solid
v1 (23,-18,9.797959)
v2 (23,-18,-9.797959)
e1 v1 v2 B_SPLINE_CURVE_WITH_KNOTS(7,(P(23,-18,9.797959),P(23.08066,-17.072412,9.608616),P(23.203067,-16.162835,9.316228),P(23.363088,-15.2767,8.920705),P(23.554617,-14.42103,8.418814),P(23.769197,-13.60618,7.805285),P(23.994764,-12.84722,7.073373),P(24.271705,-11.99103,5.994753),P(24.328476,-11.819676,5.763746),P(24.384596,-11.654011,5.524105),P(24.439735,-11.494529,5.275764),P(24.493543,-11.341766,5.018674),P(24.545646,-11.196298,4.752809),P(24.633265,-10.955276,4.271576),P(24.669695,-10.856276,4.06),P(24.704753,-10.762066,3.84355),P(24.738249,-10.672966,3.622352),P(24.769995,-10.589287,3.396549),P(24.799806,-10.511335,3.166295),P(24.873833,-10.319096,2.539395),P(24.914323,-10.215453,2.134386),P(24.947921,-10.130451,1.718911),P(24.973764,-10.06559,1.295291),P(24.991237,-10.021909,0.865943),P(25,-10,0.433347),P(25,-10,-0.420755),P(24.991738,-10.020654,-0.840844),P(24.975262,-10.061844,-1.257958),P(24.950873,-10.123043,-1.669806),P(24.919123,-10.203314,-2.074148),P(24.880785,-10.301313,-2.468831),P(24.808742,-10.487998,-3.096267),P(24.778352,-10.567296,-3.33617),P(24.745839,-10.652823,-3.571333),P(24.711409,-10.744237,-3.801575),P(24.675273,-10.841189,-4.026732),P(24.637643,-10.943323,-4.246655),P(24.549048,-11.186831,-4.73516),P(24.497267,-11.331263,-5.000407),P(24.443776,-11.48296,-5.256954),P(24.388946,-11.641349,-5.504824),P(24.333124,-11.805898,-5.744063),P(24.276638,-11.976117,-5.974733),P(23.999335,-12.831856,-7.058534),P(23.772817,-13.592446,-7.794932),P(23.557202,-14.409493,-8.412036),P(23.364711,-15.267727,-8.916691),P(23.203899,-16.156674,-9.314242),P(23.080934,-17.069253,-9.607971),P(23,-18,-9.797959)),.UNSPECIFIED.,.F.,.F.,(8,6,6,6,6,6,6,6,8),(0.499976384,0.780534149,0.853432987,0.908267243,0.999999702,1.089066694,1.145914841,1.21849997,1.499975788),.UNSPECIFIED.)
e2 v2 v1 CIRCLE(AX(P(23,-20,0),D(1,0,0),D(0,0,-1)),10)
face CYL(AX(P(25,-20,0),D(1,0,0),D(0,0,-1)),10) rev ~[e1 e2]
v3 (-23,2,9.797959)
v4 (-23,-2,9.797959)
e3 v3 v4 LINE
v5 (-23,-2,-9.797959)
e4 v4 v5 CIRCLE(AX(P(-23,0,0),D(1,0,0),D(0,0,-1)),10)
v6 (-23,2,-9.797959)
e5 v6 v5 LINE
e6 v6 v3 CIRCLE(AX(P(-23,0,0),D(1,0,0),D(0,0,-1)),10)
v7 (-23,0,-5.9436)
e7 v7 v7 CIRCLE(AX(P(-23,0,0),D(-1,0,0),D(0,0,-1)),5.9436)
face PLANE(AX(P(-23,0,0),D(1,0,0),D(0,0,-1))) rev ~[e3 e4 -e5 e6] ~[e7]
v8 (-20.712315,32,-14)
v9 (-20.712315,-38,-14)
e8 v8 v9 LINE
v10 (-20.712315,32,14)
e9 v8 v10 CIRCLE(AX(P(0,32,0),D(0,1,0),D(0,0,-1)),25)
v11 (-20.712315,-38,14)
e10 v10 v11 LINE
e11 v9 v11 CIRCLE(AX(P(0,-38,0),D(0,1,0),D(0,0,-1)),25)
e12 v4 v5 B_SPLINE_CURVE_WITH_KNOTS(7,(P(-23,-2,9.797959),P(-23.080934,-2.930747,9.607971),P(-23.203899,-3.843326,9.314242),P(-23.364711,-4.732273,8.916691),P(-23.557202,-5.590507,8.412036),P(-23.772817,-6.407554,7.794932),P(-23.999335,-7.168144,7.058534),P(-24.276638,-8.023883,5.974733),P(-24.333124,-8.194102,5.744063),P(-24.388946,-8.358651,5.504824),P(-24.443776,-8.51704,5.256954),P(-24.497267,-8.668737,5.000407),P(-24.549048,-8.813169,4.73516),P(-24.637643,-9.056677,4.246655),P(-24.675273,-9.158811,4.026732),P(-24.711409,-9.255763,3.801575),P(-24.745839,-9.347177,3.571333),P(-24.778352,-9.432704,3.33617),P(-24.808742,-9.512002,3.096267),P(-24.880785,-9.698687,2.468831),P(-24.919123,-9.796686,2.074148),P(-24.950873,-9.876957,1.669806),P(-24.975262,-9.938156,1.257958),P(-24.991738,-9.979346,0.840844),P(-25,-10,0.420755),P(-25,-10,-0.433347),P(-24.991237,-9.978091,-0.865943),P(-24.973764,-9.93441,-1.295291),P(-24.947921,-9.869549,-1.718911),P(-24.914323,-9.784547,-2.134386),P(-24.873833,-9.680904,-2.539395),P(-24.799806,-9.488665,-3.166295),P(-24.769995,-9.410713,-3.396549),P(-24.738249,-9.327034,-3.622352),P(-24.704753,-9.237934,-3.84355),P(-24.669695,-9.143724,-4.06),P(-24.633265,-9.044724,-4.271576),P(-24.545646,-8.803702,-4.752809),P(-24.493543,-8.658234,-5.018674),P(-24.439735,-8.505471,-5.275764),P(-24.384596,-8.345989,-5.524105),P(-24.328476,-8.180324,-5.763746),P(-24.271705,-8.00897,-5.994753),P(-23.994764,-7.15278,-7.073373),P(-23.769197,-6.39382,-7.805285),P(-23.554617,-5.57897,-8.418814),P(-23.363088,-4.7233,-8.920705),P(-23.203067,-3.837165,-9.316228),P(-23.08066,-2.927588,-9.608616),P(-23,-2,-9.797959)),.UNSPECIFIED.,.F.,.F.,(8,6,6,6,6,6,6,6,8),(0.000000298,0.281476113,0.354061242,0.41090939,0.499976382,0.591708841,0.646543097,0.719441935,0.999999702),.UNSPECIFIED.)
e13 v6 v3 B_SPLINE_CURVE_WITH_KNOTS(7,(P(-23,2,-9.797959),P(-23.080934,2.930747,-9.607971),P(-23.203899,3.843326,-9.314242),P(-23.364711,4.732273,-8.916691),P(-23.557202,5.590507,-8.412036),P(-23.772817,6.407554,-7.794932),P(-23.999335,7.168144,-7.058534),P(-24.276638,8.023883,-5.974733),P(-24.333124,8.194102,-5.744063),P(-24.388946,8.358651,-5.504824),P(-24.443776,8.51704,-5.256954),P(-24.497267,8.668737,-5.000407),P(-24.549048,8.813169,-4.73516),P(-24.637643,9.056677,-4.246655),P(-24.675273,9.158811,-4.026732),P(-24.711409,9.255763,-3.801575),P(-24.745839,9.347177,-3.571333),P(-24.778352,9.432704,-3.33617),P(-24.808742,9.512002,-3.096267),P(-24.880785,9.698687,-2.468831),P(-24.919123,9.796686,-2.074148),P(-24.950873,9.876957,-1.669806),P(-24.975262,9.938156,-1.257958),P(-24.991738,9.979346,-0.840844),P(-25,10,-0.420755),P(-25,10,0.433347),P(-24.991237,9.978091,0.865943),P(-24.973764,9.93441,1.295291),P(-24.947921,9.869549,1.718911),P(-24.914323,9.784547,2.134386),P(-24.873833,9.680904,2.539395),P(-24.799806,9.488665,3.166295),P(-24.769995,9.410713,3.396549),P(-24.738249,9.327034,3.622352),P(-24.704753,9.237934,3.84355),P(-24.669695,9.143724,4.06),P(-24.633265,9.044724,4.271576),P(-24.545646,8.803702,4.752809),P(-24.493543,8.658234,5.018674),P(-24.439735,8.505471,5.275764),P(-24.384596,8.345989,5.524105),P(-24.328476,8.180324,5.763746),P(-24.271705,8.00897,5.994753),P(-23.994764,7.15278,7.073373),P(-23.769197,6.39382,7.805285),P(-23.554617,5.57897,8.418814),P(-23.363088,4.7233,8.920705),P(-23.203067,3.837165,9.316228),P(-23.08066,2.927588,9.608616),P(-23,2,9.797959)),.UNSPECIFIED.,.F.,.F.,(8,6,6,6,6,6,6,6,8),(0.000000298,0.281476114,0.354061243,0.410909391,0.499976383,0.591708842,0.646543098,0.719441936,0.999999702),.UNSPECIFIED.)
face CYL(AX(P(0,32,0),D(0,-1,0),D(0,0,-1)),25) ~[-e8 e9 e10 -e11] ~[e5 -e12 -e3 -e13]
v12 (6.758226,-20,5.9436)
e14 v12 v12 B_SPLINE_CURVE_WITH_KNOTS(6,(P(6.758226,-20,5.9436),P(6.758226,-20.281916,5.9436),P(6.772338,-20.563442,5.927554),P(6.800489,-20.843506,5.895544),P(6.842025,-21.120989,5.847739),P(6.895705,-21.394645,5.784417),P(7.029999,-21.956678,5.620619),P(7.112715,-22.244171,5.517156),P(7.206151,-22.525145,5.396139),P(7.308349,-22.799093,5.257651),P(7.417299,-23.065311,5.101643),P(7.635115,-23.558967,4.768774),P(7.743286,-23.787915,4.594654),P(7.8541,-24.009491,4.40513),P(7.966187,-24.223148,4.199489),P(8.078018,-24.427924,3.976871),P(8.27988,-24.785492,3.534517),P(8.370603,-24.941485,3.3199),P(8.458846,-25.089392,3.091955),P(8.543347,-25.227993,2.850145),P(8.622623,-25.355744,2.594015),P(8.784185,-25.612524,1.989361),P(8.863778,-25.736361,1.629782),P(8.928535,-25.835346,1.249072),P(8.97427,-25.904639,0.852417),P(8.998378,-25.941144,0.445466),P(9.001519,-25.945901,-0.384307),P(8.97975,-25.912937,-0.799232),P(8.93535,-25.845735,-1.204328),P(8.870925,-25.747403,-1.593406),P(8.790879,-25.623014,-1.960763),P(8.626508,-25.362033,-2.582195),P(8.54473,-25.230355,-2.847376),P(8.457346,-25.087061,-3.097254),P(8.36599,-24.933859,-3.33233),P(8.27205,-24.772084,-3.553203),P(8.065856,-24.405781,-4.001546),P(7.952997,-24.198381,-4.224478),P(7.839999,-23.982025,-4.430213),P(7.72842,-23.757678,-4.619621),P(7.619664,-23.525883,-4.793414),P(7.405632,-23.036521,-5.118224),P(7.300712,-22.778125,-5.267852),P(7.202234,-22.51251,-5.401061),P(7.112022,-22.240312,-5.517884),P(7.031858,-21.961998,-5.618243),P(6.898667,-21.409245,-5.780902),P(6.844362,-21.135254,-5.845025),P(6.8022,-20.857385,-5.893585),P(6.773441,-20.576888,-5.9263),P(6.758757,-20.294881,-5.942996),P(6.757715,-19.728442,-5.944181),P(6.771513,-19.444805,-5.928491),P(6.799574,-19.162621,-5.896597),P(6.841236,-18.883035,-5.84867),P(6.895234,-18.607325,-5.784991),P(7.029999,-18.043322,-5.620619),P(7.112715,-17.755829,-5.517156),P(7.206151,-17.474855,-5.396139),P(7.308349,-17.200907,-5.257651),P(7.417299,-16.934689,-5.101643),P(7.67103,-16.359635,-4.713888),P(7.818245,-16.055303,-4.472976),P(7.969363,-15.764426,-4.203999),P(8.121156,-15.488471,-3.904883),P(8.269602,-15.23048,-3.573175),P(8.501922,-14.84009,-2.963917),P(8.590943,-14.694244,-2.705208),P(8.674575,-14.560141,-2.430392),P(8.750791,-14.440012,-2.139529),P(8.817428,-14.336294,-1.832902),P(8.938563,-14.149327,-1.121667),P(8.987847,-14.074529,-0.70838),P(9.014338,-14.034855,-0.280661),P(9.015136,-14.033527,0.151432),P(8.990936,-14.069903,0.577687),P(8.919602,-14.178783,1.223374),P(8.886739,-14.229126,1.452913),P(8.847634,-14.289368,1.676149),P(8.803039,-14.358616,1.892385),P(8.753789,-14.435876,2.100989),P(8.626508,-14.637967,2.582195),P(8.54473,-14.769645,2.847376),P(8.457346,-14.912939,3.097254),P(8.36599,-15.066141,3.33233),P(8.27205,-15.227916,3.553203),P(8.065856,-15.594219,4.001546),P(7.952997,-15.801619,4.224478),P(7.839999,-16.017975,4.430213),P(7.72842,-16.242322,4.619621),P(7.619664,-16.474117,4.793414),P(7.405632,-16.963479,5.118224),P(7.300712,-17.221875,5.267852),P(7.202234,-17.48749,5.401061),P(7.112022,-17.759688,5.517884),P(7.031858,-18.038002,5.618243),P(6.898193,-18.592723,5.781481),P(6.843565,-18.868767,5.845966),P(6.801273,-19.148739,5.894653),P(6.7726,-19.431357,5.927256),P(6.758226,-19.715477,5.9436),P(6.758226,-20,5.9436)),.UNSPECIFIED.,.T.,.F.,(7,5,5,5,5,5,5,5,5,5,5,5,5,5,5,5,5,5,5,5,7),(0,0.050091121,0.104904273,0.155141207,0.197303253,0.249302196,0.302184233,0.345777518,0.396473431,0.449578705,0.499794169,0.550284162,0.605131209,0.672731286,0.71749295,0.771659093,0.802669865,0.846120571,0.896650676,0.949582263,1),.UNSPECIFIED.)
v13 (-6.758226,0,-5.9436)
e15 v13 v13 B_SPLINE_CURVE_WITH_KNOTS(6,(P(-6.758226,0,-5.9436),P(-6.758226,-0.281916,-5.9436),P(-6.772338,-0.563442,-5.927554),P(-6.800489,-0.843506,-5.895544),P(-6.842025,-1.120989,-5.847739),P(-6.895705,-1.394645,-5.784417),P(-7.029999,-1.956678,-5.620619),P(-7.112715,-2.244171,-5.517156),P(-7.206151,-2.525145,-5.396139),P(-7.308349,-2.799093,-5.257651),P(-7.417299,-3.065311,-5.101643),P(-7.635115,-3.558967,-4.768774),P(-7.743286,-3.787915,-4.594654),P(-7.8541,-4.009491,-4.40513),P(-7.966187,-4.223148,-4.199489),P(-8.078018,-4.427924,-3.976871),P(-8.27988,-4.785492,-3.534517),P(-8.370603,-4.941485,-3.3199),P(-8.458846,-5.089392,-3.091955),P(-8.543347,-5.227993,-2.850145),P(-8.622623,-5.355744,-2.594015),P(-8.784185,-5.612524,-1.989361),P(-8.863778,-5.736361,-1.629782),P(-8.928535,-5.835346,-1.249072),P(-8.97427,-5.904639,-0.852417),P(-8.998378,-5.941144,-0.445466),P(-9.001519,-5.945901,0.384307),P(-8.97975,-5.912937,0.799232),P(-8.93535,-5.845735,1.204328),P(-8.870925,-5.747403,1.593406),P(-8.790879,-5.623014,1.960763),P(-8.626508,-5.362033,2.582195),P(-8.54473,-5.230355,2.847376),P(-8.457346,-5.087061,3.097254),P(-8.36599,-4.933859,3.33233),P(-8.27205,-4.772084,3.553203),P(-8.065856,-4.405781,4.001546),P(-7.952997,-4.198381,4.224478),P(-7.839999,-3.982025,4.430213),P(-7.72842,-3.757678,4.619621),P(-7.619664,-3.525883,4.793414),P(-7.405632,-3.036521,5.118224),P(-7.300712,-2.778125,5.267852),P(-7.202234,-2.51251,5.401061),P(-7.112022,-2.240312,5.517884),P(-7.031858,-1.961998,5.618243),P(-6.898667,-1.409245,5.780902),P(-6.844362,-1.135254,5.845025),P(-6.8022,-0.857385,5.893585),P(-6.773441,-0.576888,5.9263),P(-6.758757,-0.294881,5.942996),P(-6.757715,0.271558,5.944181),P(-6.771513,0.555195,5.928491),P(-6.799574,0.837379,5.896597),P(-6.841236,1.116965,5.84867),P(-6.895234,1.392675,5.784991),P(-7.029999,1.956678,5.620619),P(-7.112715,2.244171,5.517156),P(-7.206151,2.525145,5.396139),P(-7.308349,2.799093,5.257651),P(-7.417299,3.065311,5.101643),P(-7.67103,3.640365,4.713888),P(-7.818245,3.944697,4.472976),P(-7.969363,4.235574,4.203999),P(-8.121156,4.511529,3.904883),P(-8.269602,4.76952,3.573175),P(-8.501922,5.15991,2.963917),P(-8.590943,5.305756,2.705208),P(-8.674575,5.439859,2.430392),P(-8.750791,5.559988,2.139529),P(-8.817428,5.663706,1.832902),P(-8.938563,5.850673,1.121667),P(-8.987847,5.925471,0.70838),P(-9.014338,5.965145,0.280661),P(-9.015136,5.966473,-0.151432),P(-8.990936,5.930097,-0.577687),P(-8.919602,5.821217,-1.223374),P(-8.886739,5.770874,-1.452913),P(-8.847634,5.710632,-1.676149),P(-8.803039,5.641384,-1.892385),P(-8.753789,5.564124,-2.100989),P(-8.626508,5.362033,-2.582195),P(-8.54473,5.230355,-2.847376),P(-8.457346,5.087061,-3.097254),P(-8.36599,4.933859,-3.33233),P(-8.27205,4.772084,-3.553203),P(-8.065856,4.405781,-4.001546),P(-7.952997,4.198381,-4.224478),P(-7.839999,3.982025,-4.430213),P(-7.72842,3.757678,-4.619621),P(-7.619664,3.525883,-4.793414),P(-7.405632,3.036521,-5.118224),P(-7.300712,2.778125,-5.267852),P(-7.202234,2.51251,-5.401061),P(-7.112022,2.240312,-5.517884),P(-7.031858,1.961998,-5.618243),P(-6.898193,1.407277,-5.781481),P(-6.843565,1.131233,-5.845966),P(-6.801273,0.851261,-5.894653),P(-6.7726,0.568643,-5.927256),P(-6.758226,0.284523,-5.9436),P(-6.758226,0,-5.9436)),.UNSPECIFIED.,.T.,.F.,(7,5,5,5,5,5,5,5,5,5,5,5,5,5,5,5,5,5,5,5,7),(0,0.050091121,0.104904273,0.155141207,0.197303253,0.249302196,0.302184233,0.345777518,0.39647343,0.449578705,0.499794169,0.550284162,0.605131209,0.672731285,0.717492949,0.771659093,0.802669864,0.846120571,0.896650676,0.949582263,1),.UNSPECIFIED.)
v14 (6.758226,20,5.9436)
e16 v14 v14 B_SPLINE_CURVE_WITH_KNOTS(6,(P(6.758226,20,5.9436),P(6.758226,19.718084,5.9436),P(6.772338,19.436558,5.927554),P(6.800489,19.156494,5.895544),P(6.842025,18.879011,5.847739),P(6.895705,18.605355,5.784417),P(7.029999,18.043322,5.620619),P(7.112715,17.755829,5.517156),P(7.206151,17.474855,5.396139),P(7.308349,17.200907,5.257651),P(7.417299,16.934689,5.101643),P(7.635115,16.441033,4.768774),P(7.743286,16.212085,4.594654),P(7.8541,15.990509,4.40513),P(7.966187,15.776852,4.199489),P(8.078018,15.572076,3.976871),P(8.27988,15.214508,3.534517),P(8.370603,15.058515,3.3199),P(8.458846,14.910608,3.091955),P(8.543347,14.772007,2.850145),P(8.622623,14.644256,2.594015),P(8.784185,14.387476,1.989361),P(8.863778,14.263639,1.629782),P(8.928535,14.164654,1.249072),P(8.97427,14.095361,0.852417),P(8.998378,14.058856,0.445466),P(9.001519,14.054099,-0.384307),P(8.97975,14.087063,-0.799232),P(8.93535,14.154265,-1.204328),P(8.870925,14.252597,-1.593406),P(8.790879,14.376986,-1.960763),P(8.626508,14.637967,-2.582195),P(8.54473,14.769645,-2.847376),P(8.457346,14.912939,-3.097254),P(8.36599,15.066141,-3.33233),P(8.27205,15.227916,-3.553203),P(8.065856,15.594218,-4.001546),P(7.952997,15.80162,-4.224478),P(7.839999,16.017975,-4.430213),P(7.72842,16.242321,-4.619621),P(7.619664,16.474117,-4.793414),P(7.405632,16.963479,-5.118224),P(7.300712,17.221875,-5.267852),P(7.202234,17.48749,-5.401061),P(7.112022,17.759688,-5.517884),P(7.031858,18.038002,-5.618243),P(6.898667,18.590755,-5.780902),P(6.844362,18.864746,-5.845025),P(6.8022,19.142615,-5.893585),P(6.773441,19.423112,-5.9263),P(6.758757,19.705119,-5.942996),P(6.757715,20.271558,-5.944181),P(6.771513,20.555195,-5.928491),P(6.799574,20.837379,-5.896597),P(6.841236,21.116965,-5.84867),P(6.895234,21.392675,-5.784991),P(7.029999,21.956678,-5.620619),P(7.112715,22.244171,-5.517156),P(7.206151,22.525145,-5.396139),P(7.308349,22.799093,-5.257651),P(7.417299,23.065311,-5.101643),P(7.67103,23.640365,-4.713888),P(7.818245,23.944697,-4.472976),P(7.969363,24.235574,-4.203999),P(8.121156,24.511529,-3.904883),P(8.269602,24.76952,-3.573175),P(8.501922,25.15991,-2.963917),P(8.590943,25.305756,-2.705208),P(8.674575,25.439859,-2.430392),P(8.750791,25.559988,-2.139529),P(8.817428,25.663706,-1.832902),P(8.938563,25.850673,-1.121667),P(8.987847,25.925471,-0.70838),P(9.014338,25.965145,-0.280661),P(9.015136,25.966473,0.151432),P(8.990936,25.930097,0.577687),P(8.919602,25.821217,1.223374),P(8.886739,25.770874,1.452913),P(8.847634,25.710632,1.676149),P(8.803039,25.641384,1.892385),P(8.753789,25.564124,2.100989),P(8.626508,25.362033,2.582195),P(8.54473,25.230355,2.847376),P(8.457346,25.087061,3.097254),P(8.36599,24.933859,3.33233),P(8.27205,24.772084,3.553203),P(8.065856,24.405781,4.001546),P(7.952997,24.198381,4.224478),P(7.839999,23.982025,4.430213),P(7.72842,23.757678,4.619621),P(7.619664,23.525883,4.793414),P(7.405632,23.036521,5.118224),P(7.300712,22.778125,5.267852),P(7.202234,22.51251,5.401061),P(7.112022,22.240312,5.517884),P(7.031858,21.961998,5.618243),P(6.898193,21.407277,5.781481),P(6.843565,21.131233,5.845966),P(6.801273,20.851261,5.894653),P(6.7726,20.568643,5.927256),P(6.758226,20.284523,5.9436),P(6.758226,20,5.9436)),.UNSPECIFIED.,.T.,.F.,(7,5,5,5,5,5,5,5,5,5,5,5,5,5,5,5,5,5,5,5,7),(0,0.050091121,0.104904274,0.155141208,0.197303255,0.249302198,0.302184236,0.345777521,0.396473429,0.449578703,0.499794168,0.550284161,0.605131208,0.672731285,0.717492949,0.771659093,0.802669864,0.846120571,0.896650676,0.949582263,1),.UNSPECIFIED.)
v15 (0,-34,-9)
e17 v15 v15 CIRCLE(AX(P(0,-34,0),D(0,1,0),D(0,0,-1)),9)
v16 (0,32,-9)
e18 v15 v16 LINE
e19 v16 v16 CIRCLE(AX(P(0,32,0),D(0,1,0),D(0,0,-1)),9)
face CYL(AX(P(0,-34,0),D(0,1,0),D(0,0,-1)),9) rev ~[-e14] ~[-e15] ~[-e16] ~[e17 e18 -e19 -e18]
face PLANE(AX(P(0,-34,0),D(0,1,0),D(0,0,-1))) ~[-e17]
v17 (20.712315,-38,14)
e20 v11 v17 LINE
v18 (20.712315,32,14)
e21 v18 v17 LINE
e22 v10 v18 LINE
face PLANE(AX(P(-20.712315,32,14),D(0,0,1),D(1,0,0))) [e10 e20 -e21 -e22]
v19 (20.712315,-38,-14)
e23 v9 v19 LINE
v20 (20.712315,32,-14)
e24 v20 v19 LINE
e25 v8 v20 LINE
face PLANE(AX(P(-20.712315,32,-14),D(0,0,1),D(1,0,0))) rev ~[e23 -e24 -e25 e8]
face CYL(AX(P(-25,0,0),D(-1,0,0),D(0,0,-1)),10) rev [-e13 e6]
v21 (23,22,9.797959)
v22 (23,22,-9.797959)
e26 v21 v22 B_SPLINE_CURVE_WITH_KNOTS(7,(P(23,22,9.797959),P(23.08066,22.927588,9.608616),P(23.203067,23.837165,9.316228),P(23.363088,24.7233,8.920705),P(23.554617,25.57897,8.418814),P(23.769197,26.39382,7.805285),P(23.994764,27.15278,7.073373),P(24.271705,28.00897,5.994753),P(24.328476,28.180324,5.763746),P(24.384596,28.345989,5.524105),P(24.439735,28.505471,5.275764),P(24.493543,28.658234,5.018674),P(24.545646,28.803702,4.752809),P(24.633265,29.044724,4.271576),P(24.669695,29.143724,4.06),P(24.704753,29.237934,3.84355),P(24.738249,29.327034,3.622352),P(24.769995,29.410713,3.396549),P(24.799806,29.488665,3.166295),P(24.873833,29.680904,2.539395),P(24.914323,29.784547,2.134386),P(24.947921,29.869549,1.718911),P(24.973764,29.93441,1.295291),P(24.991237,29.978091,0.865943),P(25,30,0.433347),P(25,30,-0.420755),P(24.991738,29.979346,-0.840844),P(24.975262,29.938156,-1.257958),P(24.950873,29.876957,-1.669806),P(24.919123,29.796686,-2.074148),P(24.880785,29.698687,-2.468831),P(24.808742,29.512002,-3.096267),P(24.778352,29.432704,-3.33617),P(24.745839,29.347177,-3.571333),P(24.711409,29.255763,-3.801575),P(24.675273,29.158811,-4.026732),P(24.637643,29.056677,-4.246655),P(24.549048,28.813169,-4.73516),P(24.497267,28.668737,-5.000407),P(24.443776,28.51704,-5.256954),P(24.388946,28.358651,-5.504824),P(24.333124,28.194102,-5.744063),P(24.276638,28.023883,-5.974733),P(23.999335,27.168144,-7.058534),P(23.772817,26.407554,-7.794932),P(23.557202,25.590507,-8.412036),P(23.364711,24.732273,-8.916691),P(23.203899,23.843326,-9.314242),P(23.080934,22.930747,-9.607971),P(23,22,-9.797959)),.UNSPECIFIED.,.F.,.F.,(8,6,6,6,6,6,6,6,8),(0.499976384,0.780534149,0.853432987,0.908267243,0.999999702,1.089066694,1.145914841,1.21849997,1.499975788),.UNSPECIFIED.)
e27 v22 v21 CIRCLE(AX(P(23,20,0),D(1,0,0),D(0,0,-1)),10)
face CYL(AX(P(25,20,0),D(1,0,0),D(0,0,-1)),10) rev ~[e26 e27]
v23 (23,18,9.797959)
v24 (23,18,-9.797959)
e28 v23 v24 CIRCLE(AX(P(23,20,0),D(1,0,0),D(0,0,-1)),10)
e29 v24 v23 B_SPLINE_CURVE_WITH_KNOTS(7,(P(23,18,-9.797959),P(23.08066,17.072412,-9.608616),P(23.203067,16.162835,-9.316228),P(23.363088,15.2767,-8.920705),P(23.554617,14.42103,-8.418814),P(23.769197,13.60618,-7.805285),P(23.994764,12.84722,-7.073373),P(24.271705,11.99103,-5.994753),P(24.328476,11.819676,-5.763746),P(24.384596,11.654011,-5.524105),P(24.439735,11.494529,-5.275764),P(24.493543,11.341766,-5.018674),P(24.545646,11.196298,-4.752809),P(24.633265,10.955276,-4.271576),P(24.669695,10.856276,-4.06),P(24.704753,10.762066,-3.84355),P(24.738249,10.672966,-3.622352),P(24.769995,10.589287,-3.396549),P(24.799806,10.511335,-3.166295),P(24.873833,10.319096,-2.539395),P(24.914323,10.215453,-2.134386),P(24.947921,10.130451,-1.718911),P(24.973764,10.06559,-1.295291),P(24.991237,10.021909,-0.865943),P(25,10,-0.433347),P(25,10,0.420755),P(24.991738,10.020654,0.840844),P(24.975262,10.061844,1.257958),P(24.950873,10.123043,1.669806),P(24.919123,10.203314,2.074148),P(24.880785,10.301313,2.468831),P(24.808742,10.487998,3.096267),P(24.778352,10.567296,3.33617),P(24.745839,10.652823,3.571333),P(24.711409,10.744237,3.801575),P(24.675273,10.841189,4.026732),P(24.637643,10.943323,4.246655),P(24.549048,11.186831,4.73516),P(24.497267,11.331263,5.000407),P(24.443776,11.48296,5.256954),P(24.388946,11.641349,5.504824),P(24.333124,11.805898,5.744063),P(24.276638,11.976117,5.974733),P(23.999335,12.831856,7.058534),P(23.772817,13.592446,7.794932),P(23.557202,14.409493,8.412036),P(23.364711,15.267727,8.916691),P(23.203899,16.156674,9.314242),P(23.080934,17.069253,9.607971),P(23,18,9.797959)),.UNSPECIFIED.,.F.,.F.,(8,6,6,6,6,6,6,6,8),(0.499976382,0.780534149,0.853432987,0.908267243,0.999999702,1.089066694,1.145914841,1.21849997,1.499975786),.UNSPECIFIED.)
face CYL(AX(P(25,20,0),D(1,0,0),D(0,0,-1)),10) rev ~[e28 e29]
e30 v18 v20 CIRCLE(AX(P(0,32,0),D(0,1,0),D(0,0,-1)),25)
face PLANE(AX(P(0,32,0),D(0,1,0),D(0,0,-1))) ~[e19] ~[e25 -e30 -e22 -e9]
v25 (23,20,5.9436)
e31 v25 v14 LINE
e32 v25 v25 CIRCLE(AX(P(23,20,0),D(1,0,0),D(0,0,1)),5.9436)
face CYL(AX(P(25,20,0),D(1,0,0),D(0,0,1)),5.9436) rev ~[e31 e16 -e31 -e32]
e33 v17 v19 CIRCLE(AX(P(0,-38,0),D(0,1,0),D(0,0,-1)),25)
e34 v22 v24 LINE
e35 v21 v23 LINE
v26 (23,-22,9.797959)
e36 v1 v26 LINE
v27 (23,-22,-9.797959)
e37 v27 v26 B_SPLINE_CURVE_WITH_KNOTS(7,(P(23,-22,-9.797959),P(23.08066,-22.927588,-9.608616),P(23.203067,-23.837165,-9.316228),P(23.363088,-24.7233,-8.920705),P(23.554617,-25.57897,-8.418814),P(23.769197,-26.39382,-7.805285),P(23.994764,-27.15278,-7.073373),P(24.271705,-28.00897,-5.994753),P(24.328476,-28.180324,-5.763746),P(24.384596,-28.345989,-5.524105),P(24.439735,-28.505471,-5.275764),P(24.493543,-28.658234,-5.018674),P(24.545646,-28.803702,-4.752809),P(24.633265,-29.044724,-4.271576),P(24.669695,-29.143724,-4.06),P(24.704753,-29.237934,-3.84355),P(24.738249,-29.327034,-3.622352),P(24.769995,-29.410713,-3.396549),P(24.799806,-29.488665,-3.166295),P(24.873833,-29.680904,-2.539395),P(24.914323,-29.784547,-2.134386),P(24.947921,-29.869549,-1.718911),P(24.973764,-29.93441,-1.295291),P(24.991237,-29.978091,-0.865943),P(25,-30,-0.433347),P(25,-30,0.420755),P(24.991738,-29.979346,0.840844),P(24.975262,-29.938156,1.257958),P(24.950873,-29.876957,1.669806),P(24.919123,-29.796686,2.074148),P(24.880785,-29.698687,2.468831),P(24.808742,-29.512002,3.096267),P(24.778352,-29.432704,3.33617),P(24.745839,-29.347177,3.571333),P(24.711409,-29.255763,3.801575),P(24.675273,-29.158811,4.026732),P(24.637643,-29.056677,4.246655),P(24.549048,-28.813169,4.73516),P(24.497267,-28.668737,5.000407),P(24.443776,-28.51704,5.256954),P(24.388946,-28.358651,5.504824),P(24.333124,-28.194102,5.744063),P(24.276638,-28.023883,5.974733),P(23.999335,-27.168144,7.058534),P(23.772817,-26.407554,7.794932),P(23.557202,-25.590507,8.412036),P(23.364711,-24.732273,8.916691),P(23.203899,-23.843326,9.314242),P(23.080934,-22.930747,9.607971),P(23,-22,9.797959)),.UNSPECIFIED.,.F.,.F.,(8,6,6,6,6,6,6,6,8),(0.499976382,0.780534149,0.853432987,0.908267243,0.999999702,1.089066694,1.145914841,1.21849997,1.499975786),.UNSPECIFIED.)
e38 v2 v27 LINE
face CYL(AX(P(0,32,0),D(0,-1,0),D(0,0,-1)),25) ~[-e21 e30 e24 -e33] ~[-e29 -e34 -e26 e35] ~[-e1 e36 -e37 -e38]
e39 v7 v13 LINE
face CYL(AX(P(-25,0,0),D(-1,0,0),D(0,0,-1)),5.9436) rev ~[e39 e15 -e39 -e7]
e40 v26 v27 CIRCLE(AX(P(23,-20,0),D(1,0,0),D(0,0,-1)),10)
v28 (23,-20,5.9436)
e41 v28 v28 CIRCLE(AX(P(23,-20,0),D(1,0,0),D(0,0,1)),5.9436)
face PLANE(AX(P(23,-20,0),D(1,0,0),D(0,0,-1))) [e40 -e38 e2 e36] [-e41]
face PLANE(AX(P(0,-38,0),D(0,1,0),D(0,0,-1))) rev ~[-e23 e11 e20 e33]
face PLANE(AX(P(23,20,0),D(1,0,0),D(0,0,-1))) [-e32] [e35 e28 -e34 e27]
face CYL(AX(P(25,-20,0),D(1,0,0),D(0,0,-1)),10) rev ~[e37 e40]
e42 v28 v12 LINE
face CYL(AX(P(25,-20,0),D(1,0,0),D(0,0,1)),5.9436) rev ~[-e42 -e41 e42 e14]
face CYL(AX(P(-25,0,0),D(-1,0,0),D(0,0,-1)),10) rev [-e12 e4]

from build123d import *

# Parameters (mm, degrees)
FURO_ROSCADO_DE_1_4_18_NPSM1_REACH  = 69.594
FURO_ROSCADO_DE_1_4_18_NPSM1_BORE_R = 5.9436
FURO_ROSCADO_DE_1_4_18_NPSM2_REACH  = 82.554
FURO_ROSCADO_DE_1_4_18_NPSM2_BORE_R = 5.9436
ESBO_O4_R                           = 10
CORTE_EXTRUS_O1_DEPTH               = 2
ESBO_O6_R                           = 10
CORTE_EXTRUS_O2_DEPTH               = 2
CORTE_EXTRUS_O3_DEPTH               = 79.42193586


with BuildPart() as part:
    # Esboço1 → Revolução1 (revolve)
    with BuildSketch(Plane.XY, mode=Mode.PRIVATE) as revolu_o1_sk:
        Polygon((9, 32), (25, 32), (25, -38), (0, -38), (0, -34), (9, -34), align=None)
    revolve(revolu_o1_sk.sketch.rotate(Axis((0, 0, 0), (0, 1, 0)), 90), axis=Axis((0, 0, 0), (0, 1, 0)))

    # Furo roscado de 1/4-18 NPSM1 bore (on position points) → Furo roscado de 1/4-18 NPSM1 (cut, up to next)
    with BuildSketch(Plane(origin=(-25, 0, 0), x_dir=(0, 0, -1), z_dir=(-1, 0, 0)), mode=Mode.PRIVATE) as furo_roscado_de_1_4_18_npsm1_sk1:
        Circle(FURO_ROSCADO_DE_1_4_18_NPSM1_BORE_R)
    furo_roscado_de_1_4_18_npsm1_tool1 = extrude(furo_roscado_de_1_4_18_npsm1_sk1.sketch, amount=-FURO_ROSCADO_DE_1_4_18_NPSM1_REACH, mode=Mode.PRIVATE) & part.part
    add(furo_roscado_de_1_4_18_npsm1_tool1.solids().sort_by_distance((-25, 0, 0))[0], mode=Mode.SUBTRACT)

    # Furo roscado de 1/4-18 NPSM2 bore (on position points) → Furo roscado de 1/4-18 NPSM2 (cut, up to next)
    with BuildSketch(Plane(origin=(25, 20, 0), x_dir=(0, 0, 1), z_dir=(1, 0, 0)), mode=Mode.PRIVATE) as furo_roscado_de_1_4_18_npsm2_sk1:
        Circle(FURO_ROSCADO_DE_1_4_18_NPSM2_BORE_R)
    furo_roscado_de_1_4_18_npsm2_tool1 = extrude(furo_roscado_de_1_4_18_npsm2_sk1.sketch, amount=-FURO_ROSCADO_DE_1_4_18_NPSM2_REACH, mode=Mode.PRIVATE) & part.part
    # Furo roscado de 1/4-18 NPSM2 bore (on position points) → Furo roscado de 1/4-18 NPSM2 (cut, up to next)
    with BuildSketch(Plane(origin=(25, 20, 0), x_dir=(0, 0, 1), z_dir=(1, 0, 0)), mode=Mode.PRIVATE) as furo_roscado_de_1_4_18_npsm2_sk2:
        with Locations((0, 40)):
            Circle(FURO_ROSCADO_DE_1_4_18_NPSM2_BORE_R)
    furo_roscado_de_1_4_18_npsm2_tool2 = extrude(furo_roscado_de_1_4_18_npsm2_sk2.sketch, amount=-FURO_ROSCADO_DE_1_4_18_NPSM2_REACH, mode=Mode.PRIVATE) & part.part
    add(furo_roscado_de_1_4_18_npsm2_tool1.solids().sort_by_distance((25, 20, 0))[0], mode=Mode.SUBTRACT)
    add(furo_roscado_de_1_4_18_npsm2_tool2.solids().sort_by_distance((25, -20, 0))[0], mode=Mode.SUBTRACT)

    # Esboço4 → Corte-extrusão1 (cut)
    with BuildSketch(Plane(origin=(-25, 0, 0), x_dir=(0, 0, -1), z_dir=(1, 0, 0))):
        Circle(ESBO_O4_R)
    extrude(amount=CORTE_EXTRUS_O1_DEPTH, mode=Mode.SUBTRACT)

    # Esboço6 → Corte-extrusão2 (cut)
    with BuildSketch(Plane(origin=(25, 0, 0), x_dir=(0, 0, -1), z_dir=(1, 0, 0))):
        with Locations((0, 20)):
            Circle(ESBO_O6_R)
        with Locations((0, -20)):
            Circle(ESBO_O6_R)
    extrude(amount=-CORTE_EXTRUS_O2_DEPTH, mode=Mode.SUBTRACT)

    # Esboço7 → Corte-extrusão3 (cut, through all)
    with BuildSketch(Plane(origin=(0, 32, 0), x_dir=(1, 0, 0), z_dir=(0, 1, 0))):
        with BuildLine():
            Line((-20.712315177, 14), (20.712315177, 14))
            ThreePointArc((20.712315177, 14), (0, 25), (-20.712315177, 14))
        make_face()
        with BuildLine():
            Line((-20.712315177, -14), (20.712315177, -14))
            ThreePointArc((20.712315177, -14), (0, -25), (-20.712315177, -14))
        make_face()
    extrude(amount=-CORTE_EXTRUS_O3_DEPTH, mode=Mode.SUBTRACT)


solid = part.part
